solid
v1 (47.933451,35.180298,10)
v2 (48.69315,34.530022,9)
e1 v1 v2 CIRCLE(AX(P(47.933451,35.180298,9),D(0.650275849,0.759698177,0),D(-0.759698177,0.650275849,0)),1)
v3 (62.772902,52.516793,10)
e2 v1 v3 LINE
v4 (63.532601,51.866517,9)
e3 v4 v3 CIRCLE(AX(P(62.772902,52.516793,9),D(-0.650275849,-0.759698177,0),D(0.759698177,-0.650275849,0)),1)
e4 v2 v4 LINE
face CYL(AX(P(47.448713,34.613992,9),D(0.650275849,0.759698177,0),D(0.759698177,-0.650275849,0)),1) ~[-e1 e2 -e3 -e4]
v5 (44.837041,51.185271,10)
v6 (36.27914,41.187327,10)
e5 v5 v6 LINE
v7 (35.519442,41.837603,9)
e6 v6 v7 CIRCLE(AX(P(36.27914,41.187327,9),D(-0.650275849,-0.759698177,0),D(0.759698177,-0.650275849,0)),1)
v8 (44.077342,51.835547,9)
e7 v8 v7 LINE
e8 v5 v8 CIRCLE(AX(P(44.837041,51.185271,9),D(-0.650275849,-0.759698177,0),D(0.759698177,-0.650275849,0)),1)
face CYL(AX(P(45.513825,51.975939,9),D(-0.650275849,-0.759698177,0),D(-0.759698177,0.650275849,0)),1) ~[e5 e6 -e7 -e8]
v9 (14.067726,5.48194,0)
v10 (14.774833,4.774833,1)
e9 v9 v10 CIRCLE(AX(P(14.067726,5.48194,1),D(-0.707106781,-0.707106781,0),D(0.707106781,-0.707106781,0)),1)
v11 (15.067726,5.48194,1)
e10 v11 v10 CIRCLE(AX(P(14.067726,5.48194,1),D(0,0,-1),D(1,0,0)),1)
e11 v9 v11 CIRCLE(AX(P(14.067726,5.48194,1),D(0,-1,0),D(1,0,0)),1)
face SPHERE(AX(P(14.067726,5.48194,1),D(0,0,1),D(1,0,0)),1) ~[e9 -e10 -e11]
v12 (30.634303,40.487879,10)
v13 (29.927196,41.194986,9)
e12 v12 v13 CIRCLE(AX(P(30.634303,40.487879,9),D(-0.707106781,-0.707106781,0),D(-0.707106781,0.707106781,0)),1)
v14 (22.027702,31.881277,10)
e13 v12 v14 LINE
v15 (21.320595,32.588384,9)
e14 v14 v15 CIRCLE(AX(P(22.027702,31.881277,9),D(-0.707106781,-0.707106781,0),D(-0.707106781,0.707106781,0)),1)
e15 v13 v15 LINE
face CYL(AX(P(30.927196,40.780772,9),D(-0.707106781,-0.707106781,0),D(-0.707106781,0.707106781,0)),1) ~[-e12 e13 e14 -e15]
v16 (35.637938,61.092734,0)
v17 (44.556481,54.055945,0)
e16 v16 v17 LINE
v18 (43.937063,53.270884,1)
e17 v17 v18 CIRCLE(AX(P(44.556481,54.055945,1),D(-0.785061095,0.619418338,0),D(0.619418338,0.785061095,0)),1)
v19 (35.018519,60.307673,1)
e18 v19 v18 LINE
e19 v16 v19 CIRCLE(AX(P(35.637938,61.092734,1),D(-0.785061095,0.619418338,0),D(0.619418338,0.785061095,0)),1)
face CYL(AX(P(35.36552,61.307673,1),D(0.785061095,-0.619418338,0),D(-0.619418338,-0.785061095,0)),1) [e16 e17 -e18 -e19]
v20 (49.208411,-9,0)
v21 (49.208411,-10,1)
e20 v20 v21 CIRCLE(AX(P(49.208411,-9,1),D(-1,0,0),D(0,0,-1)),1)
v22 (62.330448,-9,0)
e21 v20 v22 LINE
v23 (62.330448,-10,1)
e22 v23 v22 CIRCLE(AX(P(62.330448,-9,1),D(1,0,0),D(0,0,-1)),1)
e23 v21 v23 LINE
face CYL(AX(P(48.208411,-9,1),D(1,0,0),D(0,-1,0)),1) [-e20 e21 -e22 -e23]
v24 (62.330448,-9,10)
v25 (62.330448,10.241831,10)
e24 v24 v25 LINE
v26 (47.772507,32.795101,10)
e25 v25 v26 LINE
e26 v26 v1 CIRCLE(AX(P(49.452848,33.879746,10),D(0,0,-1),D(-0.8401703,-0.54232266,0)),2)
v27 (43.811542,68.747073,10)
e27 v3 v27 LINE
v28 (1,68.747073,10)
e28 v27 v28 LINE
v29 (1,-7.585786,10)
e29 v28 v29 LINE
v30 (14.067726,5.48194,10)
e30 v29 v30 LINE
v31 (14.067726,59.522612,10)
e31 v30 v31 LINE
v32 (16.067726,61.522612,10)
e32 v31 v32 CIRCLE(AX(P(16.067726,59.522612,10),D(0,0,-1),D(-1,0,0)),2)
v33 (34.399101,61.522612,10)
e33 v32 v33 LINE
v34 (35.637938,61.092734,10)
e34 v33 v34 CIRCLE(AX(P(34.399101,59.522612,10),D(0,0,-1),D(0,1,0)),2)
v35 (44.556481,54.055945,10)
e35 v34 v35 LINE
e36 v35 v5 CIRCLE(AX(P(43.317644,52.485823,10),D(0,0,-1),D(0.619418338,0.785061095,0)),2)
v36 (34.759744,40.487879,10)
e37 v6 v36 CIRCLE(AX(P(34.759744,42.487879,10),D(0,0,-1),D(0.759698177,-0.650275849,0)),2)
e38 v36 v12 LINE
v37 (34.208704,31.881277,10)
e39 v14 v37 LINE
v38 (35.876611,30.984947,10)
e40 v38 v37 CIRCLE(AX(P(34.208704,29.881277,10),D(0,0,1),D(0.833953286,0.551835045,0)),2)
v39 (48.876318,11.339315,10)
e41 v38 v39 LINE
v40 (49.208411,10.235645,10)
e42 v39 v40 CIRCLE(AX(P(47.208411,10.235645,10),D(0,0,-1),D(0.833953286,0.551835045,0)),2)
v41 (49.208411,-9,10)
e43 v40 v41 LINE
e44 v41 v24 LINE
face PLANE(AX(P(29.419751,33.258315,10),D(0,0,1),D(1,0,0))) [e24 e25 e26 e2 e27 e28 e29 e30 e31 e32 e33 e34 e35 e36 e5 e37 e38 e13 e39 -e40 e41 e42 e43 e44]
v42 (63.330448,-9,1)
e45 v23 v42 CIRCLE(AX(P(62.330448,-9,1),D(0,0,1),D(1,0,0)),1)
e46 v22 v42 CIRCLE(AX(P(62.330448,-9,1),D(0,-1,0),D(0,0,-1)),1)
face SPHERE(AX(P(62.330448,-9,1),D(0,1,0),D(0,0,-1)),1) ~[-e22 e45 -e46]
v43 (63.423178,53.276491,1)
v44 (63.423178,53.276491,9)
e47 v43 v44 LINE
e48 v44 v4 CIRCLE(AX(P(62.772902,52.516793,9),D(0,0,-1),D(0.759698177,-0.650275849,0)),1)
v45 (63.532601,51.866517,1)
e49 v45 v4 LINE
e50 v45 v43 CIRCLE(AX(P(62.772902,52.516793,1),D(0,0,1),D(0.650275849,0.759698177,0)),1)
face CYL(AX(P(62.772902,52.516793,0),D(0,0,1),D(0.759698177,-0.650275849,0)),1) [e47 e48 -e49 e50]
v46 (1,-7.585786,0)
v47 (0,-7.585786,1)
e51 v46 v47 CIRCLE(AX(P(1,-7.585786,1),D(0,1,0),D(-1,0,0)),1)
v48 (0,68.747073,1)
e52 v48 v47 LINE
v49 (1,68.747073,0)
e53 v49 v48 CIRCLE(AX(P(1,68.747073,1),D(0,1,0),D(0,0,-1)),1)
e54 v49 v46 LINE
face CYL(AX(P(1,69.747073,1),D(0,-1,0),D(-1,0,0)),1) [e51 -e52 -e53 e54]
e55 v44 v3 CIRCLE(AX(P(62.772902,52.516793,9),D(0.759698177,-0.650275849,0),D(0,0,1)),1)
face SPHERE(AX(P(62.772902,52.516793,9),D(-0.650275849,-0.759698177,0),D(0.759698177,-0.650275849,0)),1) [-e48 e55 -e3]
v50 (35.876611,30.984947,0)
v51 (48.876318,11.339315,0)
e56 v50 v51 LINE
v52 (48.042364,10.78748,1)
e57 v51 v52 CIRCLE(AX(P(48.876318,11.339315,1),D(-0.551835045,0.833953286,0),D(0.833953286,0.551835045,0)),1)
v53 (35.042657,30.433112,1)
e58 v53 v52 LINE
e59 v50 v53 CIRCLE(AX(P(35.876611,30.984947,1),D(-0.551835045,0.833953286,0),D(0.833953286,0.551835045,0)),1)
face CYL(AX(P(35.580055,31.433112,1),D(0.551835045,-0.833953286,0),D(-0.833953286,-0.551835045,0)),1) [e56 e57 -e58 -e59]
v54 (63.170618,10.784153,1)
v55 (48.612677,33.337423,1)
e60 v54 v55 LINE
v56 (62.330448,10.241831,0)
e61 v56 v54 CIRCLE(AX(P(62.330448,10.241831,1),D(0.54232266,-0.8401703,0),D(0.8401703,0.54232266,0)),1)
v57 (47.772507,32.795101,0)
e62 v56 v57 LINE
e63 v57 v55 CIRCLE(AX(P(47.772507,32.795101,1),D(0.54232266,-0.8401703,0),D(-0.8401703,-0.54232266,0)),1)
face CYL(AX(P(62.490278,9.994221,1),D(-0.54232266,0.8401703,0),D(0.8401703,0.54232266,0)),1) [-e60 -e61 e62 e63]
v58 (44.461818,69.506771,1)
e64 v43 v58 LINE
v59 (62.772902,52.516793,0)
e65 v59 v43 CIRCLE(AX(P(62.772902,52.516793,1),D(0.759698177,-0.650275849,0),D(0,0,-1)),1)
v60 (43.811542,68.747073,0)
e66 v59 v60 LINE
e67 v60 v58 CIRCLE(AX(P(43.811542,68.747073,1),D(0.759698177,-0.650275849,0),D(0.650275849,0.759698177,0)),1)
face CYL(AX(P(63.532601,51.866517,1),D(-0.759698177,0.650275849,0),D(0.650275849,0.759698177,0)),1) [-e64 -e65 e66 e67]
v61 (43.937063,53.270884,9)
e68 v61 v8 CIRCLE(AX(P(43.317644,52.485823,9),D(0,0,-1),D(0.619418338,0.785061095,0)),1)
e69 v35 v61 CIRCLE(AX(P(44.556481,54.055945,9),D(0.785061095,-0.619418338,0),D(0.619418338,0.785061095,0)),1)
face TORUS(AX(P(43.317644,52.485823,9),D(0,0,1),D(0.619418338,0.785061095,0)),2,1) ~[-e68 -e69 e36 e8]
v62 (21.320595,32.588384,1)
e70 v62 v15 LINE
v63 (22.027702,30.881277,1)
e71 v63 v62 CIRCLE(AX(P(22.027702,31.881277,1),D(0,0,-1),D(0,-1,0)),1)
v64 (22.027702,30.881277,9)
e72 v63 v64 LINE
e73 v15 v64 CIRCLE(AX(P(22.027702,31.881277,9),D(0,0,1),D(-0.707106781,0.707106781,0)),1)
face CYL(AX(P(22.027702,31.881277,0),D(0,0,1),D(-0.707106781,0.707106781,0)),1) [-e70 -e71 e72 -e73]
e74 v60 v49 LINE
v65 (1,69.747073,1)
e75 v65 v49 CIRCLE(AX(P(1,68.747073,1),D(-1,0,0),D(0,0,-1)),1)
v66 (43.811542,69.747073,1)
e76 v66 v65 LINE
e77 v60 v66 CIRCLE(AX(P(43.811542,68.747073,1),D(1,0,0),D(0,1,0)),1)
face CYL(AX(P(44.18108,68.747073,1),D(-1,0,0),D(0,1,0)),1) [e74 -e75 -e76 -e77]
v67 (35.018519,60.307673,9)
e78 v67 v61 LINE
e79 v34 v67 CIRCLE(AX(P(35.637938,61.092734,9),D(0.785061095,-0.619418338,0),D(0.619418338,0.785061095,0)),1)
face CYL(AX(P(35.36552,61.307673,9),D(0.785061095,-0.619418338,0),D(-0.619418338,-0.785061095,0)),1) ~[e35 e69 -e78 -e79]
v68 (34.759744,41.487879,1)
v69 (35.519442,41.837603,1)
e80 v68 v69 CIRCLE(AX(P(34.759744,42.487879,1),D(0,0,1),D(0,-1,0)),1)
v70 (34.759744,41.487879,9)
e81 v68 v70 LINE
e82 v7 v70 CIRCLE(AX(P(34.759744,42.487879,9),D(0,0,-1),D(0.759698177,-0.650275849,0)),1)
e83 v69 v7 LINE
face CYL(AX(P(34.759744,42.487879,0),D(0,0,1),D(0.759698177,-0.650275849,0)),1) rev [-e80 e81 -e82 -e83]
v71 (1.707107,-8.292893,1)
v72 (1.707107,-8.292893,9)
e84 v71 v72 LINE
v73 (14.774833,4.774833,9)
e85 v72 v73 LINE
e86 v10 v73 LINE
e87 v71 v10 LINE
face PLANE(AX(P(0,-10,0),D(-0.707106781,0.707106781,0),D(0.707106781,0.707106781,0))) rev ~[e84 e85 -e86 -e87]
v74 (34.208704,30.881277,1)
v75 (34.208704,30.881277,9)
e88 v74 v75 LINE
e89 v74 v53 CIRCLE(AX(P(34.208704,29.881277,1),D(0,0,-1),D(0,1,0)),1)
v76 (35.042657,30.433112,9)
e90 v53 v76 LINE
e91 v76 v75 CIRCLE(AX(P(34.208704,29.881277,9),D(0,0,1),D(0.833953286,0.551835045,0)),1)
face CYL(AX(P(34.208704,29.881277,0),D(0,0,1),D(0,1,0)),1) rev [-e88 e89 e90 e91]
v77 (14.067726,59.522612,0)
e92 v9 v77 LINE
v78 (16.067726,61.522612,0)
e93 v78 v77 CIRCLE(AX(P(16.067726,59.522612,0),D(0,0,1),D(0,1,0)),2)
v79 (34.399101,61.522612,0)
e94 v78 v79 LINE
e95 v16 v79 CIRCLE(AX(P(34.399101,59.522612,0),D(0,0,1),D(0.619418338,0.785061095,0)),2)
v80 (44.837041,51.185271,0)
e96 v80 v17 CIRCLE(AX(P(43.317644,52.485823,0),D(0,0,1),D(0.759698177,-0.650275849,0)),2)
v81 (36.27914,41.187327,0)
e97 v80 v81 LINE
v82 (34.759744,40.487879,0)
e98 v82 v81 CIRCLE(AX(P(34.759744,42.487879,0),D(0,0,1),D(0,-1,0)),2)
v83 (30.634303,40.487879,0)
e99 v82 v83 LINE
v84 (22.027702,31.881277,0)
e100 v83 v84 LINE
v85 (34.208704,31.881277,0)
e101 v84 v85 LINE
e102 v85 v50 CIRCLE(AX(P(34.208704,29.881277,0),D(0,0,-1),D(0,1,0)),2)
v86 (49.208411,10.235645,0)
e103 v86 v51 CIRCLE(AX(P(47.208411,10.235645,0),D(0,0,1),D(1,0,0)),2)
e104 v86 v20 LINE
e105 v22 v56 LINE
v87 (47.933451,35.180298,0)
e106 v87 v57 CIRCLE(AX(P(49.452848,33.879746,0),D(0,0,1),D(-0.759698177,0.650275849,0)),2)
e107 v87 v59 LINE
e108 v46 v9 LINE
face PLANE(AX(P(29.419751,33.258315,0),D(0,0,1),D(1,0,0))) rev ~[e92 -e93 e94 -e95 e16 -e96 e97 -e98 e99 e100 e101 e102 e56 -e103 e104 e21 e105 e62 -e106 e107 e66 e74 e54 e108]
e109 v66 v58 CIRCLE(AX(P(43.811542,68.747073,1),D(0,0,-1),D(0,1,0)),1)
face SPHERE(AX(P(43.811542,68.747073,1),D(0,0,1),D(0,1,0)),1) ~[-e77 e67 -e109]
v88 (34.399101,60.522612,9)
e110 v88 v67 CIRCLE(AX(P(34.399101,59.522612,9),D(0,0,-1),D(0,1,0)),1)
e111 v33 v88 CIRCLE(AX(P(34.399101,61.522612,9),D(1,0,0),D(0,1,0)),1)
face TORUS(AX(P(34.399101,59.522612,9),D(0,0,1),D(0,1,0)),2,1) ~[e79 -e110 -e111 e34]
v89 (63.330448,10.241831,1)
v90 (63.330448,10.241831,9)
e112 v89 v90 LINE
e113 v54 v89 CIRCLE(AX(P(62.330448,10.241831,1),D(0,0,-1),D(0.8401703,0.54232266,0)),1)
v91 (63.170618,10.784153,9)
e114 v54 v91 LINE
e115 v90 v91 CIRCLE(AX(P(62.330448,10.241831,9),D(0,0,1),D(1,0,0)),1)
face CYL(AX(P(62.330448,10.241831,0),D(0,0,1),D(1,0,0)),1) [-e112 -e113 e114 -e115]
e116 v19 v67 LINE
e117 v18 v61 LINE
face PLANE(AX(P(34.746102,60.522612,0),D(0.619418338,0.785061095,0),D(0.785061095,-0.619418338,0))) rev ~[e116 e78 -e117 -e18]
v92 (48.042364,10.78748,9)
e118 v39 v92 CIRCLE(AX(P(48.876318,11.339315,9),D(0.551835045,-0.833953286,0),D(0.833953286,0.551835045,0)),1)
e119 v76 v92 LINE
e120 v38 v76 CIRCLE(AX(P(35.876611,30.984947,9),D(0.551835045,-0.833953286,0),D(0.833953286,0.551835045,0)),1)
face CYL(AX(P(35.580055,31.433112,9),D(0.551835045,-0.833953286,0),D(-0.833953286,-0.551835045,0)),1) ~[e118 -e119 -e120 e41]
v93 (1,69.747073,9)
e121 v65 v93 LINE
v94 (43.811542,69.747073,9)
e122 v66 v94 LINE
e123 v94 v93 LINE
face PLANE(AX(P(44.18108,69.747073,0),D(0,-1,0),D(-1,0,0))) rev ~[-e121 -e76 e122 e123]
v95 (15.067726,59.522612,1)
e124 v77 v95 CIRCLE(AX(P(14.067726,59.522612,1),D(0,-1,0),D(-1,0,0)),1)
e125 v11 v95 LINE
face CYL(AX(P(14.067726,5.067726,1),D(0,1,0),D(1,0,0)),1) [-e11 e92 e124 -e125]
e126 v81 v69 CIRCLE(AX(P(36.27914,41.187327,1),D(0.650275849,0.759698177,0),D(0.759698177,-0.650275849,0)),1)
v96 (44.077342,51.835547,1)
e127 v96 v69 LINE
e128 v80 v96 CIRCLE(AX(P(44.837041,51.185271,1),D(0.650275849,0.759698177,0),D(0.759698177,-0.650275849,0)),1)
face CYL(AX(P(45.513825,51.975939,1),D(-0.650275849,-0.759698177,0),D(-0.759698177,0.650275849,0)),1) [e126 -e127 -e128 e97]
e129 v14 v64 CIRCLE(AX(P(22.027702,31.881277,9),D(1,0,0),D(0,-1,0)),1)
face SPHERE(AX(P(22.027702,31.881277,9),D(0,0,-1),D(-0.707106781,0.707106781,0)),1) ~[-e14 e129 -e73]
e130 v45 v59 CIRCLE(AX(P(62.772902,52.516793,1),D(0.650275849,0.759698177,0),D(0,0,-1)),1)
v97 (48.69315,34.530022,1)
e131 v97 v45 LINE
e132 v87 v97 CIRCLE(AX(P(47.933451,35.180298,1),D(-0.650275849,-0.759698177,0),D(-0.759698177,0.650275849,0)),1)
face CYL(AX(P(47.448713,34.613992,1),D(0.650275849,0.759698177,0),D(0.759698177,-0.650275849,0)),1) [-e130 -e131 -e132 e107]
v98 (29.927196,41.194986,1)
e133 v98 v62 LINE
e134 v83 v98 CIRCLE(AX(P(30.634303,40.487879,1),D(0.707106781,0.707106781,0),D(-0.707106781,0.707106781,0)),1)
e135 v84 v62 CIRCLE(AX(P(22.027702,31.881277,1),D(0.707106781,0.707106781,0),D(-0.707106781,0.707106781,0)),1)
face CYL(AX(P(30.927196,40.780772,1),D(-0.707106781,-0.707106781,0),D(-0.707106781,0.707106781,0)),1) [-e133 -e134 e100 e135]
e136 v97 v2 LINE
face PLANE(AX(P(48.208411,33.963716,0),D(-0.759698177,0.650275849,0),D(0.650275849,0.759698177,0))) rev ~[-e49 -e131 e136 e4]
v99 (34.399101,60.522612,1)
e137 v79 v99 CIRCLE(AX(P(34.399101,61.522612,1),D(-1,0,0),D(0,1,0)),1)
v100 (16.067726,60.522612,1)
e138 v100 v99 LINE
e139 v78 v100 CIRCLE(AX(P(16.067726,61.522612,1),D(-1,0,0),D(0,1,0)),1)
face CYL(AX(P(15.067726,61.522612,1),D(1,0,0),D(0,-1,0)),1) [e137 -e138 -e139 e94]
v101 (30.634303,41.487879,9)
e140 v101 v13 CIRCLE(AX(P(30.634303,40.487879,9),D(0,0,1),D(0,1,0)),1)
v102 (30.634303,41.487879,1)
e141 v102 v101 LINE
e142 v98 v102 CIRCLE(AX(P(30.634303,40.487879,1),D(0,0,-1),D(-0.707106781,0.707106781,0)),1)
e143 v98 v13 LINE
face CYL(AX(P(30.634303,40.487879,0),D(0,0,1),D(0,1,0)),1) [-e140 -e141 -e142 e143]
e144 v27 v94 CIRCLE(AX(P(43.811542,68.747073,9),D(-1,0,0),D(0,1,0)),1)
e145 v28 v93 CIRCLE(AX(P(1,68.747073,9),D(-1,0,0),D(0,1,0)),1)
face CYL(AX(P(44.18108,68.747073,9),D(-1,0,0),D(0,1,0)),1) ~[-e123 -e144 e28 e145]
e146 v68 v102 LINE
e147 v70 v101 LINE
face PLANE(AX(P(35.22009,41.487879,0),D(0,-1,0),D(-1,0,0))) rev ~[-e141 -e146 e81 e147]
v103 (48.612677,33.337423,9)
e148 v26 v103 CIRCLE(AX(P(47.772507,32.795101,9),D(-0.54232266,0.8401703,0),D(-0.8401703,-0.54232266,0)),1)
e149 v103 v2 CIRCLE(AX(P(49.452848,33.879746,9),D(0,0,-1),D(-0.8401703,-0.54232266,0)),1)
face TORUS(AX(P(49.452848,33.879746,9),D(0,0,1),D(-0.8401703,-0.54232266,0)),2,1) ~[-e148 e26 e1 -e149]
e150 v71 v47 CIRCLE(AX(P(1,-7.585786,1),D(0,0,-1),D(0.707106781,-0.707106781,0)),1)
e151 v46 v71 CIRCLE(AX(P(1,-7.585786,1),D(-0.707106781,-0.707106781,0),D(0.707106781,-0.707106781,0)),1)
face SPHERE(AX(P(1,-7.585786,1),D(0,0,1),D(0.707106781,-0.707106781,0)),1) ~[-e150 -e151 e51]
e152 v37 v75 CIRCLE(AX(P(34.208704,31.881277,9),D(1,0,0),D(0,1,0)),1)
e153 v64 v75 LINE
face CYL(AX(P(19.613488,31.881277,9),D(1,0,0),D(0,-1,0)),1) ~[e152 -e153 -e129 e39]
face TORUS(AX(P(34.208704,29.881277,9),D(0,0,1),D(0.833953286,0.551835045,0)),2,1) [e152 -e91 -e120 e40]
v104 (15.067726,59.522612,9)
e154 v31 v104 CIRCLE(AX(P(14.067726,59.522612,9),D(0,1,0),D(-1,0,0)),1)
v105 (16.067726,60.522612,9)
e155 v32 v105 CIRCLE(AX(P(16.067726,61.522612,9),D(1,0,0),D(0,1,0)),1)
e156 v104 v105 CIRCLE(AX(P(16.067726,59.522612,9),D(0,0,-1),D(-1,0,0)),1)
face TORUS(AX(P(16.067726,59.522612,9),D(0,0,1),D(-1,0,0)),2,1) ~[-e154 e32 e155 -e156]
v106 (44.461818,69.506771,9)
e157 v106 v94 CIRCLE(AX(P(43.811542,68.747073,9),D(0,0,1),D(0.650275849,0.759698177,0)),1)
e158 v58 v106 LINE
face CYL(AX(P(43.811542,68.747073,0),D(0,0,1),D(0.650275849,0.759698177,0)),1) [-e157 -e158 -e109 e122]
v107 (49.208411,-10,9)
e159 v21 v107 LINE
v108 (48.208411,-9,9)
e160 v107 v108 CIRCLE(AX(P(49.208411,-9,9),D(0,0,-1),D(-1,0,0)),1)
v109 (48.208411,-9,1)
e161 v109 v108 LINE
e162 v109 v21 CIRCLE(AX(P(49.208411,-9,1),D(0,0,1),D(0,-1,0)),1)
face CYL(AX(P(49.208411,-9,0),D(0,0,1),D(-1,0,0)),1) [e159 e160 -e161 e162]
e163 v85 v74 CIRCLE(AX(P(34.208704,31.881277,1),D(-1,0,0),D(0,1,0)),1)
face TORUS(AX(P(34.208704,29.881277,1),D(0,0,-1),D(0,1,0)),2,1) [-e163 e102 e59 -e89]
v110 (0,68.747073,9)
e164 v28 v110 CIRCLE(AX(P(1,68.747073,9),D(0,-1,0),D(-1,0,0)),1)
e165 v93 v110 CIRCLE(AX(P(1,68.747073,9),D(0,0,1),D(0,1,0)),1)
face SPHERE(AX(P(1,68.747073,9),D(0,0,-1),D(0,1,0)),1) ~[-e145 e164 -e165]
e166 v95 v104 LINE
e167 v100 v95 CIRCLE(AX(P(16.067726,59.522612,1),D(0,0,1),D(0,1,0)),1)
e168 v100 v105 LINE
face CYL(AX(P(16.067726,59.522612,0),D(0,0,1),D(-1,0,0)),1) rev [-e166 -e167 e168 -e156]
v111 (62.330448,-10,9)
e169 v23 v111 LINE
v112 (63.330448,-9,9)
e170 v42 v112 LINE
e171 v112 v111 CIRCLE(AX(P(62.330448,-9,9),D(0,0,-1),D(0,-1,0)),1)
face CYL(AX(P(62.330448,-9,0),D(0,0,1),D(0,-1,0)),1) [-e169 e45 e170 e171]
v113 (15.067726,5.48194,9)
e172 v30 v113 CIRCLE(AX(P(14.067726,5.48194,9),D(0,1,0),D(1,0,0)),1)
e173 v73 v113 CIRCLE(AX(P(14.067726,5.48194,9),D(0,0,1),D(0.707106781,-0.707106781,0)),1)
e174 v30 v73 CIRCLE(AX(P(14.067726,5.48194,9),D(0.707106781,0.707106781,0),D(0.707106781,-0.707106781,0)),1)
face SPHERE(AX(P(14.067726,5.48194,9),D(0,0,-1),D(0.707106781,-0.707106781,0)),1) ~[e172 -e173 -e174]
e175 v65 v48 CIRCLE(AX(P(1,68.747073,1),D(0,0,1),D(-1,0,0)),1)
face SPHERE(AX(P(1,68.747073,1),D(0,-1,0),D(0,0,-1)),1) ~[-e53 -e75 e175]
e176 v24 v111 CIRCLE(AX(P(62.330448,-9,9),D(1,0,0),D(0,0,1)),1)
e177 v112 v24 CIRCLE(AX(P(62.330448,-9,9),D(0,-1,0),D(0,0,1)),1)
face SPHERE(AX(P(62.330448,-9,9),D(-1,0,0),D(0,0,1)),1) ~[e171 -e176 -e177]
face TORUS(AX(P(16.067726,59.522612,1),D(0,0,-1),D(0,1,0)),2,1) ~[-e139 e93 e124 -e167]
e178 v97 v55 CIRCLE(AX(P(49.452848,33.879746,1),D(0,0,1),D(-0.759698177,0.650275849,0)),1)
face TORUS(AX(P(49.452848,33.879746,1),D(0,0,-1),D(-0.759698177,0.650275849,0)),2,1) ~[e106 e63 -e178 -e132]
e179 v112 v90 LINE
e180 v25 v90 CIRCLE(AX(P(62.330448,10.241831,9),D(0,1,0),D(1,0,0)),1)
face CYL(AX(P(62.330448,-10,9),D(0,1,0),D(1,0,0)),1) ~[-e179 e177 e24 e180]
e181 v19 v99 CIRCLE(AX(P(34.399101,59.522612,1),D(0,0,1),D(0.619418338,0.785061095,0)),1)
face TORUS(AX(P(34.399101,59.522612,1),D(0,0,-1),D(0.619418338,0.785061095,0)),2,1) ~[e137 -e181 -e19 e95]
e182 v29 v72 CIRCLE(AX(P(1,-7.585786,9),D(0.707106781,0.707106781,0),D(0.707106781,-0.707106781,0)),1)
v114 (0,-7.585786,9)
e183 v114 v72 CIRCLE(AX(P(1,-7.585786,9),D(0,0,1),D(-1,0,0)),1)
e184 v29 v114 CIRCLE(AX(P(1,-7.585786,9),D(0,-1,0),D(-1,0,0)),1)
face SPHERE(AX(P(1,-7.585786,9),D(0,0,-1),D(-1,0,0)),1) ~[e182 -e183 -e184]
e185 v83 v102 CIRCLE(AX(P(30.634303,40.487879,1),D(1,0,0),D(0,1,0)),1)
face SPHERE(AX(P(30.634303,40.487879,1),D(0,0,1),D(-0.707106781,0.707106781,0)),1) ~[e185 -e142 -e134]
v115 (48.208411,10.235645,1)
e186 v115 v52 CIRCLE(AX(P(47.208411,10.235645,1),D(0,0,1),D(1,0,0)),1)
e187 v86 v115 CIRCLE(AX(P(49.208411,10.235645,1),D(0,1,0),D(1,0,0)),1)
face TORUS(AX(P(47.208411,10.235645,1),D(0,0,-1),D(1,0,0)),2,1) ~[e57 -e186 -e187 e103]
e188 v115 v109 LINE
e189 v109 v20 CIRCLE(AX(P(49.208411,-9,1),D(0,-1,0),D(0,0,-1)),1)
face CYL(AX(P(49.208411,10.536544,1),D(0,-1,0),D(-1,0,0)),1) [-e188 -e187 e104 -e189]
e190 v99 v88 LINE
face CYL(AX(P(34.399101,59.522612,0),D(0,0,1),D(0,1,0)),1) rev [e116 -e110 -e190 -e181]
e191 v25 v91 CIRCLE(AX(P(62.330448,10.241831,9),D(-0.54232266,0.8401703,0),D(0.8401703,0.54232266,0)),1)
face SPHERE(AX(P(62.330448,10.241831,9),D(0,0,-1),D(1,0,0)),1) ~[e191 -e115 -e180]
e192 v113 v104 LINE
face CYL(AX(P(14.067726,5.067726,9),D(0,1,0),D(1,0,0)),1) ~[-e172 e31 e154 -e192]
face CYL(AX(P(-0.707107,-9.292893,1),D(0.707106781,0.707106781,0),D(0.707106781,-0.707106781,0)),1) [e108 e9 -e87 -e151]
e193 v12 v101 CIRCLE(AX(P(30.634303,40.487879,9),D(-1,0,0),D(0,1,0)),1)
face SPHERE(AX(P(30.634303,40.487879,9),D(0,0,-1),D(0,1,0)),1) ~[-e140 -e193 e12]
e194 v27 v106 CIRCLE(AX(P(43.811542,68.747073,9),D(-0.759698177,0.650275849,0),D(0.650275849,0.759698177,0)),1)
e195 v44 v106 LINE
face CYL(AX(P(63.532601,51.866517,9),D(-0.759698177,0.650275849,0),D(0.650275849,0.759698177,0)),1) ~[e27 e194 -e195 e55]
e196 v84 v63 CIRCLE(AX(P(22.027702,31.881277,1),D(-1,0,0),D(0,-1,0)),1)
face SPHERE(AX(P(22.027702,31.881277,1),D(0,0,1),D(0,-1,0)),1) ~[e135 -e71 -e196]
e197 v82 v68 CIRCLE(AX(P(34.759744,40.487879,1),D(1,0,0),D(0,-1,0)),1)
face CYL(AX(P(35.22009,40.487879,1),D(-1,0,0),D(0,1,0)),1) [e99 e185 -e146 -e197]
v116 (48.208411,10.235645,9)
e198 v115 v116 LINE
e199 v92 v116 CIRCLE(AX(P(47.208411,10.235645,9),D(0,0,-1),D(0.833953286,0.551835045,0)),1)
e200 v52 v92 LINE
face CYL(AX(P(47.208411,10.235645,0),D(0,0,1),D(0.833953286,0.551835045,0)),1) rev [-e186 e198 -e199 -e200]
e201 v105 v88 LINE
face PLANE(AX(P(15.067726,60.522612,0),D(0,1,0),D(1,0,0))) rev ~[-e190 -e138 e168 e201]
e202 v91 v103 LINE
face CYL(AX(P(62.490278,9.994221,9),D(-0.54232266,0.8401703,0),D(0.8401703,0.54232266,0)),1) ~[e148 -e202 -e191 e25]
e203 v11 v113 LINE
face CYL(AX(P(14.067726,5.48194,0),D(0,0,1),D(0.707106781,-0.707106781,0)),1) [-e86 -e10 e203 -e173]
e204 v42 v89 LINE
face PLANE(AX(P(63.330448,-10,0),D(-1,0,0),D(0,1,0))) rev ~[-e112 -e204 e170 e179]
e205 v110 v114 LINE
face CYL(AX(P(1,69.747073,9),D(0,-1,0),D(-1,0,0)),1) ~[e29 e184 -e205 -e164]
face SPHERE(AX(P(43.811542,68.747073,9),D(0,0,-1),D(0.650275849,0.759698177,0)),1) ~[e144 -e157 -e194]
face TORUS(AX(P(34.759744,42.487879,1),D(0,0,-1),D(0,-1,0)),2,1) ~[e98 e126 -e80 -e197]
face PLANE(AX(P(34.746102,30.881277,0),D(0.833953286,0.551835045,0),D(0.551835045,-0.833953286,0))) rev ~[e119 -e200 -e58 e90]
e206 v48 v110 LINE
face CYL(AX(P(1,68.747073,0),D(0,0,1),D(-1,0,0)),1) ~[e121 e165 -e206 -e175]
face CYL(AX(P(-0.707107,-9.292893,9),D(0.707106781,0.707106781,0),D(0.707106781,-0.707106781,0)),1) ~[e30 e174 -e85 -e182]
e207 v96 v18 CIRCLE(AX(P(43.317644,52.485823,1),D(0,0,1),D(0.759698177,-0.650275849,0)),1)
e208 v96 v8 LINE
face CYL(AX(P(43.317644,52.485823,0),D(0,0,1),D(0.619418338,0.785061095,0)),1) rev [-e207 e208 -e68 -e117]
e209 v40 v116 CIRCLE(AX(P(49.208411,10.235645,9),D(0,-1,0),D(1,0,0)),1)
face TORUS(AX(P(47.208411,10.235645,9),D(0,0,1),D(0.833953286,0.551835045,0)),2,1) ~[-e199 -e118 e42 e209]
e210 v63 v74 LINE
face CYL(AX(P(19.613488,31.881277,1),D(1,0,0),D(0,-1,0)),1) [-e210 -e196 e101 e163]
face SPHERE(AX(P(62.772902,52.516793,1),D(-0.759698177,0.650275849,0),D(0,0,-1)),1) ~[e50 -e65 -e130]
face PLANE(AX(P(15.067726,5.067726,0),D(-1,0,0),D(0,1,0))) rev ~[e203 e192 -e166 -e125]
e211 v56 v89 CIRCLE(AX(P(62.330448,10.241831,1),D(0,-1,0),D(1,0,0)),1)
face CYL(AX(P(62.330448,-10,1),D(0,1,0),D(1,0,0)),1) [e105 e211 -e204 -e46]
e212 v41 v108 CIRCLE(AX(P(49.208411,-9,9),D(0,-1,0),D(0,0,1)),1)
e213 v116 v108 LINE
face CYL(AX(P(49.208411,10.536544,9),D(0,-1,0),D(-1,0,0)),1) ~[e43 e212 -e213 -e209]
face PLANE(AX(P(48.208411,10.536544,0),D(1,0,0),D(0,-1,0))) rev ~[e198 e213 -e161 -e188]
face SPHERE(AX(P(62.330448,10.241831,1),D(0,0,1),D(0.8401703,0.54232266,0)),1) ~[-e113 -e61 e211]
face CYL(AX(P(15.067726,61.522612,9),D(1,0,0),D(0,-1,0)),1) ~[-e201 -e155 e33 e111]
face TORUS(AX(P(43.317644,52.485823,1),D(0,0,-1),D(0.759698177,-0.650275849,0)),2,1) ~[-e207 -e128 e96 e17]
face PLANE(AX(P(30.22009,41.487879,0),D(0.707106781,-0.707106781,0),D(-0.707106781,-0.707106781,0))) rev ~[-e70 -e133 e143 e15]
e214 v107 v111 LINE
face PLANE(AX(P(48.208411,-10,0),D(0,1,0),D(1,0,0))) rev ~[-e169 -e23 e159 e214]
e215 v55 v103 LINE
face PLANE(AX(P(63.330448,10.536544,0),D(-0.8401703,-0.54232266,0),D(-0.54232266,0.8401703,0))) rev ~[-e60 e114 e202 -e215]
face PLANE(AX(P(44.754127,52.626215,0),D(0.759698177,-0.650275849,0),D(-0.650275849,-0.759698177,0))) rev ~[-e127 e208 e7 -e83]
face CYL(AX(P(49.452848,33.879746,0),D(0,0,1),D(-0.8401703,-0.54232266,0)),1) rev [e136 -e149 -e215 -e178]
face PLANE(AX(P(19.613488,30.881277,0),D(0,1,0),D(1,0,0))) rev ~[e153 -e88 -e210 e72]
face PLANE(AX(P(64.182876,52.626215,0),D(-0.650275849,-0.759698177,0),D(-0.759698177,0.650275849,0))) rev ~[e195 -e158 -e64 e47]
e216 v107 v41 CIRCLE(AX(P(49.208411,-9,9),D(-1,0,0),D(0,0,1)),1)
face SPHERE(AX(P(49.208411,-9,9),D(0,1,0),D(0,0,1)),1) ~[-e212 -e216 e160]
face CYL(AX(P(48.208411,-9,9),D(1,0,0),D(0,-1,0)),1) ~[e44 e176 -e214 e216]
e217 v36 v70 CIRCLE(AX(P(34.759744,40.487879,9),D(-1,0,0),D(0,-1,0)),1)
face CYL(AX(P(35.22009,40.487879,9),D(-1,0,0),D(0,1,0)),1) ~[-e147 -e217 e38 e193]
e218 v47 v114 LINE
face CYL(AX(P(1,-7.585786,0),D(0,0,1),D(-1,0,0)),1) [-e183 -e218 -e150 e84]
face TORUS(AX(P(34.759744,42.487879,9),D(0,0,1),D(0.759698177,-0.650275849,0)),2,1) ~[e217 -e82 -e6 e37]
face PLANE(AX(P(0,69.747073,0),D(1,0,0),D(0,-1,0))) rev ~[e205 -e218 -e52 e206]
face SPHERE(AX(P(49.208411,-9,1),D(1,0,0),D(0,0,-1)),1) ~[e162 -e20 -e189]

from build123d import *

# Parameters (mm, degrees)
BOSS_EXTRUDE1_DEPTH = 10
FILLET3_R           = 1


with BuildPart() as part:
    # Sketch3 → Boss-Extrude1 (new body)
    with BuildSketch(Plane.XY):
        Polygon((0, 69.747073231), (0, 0), (0, -10), (15.06772633, 5.06772633), (15.06772633, 15.577629005), (15.06772633, 60.522611967), (34.746102146, 60.522611967), (44.75412708, 52.626214838), (35.220089692, 41.487878952), (30.220089692, 41.487878952), (19.613487974, 30.881277234), (34.746102146, 30.881277234), (48.208411003, 10.536544123), (48.208411003, 0), (48.208411003, -10), (63.3304478, -10), (63.3304478, -0.075498865), (63.3304478, 0), (63.3304478, 10.536544123), (48.208411003, 33.963716022), (64.182876427, 52.626214838), (44.18108037, 69.747073231), align=None)
    extrude(amount=BOSS_EXTRUDE1_DEPTH)

    # Fillet3
    fillet3_edges = [part.edges().sort_by_distance(p)[0] for p in [
        (48.208411003, 0.268272062, 10),
        (55.769429402, -10, 10),
        (27.17979506, 30.881277234, 0),
        (24.916788833, 36.184578093, 0),
        (32.720089692, 41.487878952, 0),
        (39.987108386, 47.057046895, 0),
        (39.750114613, 56.574413402, 0),
        (24.906914238, 60.522611967, 0),
        (63.3304478, 0.268272062, 10),
        (15.06772633, 32.795169148, 0),
        (7.533863165, -2.466136835, 0),
        (0, 29.873536616, 0),
        (22.090540185, 69.747073231, 0),
        (54.181978398, 61.186644035, 0),
        (56.195643715, 43.29496543, 0),
        (55.769429402, 22.250130073, 0),
        (63.3304478, 0.268272062, 0),
        (55.769429402, -10, 0),
        (48.208411003, 0.268272062, 0),
        (41.477256575, 20.708910679, 0),
        (55.769429402, 22.250130073, 10),
        (34.746102146, 30.881277234, 5),
        (19.613487974, 30.881277234, 5),
        (30.220089692, 41.487878952, 5),
        (35.220089692, 41.487878952, 5),
        (44.75412708, 52.626214838, 5),
        (56.195643715, 43.29496543, 10),
        (34.746102146, 60.522611967, 5),
        (15.06772633, 60.522611967, 5),
        (15.06772633, 5.06772633, 5),
        (0, -10, 5),
        (0, 69.747073231, 5),
        (44.18108037, 69.747073231, 5),
        (64.182876427, 52.626214838, 5),
        (48.208411003, 33.963716022, 5),
        (63.3304478, 10.536544123, 5),
        (63.3304478, -10, 5),
        (48.208411003, -10, 5),
        (48.208411003, 10.536544123, 5),
        (54.181978398, 61.186644035, 10),
        (22.090540185, 69.747073231, 10),
        (0, 29.873536616, 10),
        (7.533863165, -2.466136835, 10),
        (41.477256575, 20.708910679, 10),
        (15.06772633, 32.795169148, 10),
        (24.906914238, 60.522611967, 10),
        (39.750114613, 56.574413402, 10),
        (39.987108386, 47.057046895, 10),
        (32.720089692, 41.487878952, 10),
        (24.916788833, 36.184578093, 10),
        (27.17979506, 30.881277234, 10),
    ]]
    fillet(fillet3_edges, radius=FILLET3_R)


solid = part.part
